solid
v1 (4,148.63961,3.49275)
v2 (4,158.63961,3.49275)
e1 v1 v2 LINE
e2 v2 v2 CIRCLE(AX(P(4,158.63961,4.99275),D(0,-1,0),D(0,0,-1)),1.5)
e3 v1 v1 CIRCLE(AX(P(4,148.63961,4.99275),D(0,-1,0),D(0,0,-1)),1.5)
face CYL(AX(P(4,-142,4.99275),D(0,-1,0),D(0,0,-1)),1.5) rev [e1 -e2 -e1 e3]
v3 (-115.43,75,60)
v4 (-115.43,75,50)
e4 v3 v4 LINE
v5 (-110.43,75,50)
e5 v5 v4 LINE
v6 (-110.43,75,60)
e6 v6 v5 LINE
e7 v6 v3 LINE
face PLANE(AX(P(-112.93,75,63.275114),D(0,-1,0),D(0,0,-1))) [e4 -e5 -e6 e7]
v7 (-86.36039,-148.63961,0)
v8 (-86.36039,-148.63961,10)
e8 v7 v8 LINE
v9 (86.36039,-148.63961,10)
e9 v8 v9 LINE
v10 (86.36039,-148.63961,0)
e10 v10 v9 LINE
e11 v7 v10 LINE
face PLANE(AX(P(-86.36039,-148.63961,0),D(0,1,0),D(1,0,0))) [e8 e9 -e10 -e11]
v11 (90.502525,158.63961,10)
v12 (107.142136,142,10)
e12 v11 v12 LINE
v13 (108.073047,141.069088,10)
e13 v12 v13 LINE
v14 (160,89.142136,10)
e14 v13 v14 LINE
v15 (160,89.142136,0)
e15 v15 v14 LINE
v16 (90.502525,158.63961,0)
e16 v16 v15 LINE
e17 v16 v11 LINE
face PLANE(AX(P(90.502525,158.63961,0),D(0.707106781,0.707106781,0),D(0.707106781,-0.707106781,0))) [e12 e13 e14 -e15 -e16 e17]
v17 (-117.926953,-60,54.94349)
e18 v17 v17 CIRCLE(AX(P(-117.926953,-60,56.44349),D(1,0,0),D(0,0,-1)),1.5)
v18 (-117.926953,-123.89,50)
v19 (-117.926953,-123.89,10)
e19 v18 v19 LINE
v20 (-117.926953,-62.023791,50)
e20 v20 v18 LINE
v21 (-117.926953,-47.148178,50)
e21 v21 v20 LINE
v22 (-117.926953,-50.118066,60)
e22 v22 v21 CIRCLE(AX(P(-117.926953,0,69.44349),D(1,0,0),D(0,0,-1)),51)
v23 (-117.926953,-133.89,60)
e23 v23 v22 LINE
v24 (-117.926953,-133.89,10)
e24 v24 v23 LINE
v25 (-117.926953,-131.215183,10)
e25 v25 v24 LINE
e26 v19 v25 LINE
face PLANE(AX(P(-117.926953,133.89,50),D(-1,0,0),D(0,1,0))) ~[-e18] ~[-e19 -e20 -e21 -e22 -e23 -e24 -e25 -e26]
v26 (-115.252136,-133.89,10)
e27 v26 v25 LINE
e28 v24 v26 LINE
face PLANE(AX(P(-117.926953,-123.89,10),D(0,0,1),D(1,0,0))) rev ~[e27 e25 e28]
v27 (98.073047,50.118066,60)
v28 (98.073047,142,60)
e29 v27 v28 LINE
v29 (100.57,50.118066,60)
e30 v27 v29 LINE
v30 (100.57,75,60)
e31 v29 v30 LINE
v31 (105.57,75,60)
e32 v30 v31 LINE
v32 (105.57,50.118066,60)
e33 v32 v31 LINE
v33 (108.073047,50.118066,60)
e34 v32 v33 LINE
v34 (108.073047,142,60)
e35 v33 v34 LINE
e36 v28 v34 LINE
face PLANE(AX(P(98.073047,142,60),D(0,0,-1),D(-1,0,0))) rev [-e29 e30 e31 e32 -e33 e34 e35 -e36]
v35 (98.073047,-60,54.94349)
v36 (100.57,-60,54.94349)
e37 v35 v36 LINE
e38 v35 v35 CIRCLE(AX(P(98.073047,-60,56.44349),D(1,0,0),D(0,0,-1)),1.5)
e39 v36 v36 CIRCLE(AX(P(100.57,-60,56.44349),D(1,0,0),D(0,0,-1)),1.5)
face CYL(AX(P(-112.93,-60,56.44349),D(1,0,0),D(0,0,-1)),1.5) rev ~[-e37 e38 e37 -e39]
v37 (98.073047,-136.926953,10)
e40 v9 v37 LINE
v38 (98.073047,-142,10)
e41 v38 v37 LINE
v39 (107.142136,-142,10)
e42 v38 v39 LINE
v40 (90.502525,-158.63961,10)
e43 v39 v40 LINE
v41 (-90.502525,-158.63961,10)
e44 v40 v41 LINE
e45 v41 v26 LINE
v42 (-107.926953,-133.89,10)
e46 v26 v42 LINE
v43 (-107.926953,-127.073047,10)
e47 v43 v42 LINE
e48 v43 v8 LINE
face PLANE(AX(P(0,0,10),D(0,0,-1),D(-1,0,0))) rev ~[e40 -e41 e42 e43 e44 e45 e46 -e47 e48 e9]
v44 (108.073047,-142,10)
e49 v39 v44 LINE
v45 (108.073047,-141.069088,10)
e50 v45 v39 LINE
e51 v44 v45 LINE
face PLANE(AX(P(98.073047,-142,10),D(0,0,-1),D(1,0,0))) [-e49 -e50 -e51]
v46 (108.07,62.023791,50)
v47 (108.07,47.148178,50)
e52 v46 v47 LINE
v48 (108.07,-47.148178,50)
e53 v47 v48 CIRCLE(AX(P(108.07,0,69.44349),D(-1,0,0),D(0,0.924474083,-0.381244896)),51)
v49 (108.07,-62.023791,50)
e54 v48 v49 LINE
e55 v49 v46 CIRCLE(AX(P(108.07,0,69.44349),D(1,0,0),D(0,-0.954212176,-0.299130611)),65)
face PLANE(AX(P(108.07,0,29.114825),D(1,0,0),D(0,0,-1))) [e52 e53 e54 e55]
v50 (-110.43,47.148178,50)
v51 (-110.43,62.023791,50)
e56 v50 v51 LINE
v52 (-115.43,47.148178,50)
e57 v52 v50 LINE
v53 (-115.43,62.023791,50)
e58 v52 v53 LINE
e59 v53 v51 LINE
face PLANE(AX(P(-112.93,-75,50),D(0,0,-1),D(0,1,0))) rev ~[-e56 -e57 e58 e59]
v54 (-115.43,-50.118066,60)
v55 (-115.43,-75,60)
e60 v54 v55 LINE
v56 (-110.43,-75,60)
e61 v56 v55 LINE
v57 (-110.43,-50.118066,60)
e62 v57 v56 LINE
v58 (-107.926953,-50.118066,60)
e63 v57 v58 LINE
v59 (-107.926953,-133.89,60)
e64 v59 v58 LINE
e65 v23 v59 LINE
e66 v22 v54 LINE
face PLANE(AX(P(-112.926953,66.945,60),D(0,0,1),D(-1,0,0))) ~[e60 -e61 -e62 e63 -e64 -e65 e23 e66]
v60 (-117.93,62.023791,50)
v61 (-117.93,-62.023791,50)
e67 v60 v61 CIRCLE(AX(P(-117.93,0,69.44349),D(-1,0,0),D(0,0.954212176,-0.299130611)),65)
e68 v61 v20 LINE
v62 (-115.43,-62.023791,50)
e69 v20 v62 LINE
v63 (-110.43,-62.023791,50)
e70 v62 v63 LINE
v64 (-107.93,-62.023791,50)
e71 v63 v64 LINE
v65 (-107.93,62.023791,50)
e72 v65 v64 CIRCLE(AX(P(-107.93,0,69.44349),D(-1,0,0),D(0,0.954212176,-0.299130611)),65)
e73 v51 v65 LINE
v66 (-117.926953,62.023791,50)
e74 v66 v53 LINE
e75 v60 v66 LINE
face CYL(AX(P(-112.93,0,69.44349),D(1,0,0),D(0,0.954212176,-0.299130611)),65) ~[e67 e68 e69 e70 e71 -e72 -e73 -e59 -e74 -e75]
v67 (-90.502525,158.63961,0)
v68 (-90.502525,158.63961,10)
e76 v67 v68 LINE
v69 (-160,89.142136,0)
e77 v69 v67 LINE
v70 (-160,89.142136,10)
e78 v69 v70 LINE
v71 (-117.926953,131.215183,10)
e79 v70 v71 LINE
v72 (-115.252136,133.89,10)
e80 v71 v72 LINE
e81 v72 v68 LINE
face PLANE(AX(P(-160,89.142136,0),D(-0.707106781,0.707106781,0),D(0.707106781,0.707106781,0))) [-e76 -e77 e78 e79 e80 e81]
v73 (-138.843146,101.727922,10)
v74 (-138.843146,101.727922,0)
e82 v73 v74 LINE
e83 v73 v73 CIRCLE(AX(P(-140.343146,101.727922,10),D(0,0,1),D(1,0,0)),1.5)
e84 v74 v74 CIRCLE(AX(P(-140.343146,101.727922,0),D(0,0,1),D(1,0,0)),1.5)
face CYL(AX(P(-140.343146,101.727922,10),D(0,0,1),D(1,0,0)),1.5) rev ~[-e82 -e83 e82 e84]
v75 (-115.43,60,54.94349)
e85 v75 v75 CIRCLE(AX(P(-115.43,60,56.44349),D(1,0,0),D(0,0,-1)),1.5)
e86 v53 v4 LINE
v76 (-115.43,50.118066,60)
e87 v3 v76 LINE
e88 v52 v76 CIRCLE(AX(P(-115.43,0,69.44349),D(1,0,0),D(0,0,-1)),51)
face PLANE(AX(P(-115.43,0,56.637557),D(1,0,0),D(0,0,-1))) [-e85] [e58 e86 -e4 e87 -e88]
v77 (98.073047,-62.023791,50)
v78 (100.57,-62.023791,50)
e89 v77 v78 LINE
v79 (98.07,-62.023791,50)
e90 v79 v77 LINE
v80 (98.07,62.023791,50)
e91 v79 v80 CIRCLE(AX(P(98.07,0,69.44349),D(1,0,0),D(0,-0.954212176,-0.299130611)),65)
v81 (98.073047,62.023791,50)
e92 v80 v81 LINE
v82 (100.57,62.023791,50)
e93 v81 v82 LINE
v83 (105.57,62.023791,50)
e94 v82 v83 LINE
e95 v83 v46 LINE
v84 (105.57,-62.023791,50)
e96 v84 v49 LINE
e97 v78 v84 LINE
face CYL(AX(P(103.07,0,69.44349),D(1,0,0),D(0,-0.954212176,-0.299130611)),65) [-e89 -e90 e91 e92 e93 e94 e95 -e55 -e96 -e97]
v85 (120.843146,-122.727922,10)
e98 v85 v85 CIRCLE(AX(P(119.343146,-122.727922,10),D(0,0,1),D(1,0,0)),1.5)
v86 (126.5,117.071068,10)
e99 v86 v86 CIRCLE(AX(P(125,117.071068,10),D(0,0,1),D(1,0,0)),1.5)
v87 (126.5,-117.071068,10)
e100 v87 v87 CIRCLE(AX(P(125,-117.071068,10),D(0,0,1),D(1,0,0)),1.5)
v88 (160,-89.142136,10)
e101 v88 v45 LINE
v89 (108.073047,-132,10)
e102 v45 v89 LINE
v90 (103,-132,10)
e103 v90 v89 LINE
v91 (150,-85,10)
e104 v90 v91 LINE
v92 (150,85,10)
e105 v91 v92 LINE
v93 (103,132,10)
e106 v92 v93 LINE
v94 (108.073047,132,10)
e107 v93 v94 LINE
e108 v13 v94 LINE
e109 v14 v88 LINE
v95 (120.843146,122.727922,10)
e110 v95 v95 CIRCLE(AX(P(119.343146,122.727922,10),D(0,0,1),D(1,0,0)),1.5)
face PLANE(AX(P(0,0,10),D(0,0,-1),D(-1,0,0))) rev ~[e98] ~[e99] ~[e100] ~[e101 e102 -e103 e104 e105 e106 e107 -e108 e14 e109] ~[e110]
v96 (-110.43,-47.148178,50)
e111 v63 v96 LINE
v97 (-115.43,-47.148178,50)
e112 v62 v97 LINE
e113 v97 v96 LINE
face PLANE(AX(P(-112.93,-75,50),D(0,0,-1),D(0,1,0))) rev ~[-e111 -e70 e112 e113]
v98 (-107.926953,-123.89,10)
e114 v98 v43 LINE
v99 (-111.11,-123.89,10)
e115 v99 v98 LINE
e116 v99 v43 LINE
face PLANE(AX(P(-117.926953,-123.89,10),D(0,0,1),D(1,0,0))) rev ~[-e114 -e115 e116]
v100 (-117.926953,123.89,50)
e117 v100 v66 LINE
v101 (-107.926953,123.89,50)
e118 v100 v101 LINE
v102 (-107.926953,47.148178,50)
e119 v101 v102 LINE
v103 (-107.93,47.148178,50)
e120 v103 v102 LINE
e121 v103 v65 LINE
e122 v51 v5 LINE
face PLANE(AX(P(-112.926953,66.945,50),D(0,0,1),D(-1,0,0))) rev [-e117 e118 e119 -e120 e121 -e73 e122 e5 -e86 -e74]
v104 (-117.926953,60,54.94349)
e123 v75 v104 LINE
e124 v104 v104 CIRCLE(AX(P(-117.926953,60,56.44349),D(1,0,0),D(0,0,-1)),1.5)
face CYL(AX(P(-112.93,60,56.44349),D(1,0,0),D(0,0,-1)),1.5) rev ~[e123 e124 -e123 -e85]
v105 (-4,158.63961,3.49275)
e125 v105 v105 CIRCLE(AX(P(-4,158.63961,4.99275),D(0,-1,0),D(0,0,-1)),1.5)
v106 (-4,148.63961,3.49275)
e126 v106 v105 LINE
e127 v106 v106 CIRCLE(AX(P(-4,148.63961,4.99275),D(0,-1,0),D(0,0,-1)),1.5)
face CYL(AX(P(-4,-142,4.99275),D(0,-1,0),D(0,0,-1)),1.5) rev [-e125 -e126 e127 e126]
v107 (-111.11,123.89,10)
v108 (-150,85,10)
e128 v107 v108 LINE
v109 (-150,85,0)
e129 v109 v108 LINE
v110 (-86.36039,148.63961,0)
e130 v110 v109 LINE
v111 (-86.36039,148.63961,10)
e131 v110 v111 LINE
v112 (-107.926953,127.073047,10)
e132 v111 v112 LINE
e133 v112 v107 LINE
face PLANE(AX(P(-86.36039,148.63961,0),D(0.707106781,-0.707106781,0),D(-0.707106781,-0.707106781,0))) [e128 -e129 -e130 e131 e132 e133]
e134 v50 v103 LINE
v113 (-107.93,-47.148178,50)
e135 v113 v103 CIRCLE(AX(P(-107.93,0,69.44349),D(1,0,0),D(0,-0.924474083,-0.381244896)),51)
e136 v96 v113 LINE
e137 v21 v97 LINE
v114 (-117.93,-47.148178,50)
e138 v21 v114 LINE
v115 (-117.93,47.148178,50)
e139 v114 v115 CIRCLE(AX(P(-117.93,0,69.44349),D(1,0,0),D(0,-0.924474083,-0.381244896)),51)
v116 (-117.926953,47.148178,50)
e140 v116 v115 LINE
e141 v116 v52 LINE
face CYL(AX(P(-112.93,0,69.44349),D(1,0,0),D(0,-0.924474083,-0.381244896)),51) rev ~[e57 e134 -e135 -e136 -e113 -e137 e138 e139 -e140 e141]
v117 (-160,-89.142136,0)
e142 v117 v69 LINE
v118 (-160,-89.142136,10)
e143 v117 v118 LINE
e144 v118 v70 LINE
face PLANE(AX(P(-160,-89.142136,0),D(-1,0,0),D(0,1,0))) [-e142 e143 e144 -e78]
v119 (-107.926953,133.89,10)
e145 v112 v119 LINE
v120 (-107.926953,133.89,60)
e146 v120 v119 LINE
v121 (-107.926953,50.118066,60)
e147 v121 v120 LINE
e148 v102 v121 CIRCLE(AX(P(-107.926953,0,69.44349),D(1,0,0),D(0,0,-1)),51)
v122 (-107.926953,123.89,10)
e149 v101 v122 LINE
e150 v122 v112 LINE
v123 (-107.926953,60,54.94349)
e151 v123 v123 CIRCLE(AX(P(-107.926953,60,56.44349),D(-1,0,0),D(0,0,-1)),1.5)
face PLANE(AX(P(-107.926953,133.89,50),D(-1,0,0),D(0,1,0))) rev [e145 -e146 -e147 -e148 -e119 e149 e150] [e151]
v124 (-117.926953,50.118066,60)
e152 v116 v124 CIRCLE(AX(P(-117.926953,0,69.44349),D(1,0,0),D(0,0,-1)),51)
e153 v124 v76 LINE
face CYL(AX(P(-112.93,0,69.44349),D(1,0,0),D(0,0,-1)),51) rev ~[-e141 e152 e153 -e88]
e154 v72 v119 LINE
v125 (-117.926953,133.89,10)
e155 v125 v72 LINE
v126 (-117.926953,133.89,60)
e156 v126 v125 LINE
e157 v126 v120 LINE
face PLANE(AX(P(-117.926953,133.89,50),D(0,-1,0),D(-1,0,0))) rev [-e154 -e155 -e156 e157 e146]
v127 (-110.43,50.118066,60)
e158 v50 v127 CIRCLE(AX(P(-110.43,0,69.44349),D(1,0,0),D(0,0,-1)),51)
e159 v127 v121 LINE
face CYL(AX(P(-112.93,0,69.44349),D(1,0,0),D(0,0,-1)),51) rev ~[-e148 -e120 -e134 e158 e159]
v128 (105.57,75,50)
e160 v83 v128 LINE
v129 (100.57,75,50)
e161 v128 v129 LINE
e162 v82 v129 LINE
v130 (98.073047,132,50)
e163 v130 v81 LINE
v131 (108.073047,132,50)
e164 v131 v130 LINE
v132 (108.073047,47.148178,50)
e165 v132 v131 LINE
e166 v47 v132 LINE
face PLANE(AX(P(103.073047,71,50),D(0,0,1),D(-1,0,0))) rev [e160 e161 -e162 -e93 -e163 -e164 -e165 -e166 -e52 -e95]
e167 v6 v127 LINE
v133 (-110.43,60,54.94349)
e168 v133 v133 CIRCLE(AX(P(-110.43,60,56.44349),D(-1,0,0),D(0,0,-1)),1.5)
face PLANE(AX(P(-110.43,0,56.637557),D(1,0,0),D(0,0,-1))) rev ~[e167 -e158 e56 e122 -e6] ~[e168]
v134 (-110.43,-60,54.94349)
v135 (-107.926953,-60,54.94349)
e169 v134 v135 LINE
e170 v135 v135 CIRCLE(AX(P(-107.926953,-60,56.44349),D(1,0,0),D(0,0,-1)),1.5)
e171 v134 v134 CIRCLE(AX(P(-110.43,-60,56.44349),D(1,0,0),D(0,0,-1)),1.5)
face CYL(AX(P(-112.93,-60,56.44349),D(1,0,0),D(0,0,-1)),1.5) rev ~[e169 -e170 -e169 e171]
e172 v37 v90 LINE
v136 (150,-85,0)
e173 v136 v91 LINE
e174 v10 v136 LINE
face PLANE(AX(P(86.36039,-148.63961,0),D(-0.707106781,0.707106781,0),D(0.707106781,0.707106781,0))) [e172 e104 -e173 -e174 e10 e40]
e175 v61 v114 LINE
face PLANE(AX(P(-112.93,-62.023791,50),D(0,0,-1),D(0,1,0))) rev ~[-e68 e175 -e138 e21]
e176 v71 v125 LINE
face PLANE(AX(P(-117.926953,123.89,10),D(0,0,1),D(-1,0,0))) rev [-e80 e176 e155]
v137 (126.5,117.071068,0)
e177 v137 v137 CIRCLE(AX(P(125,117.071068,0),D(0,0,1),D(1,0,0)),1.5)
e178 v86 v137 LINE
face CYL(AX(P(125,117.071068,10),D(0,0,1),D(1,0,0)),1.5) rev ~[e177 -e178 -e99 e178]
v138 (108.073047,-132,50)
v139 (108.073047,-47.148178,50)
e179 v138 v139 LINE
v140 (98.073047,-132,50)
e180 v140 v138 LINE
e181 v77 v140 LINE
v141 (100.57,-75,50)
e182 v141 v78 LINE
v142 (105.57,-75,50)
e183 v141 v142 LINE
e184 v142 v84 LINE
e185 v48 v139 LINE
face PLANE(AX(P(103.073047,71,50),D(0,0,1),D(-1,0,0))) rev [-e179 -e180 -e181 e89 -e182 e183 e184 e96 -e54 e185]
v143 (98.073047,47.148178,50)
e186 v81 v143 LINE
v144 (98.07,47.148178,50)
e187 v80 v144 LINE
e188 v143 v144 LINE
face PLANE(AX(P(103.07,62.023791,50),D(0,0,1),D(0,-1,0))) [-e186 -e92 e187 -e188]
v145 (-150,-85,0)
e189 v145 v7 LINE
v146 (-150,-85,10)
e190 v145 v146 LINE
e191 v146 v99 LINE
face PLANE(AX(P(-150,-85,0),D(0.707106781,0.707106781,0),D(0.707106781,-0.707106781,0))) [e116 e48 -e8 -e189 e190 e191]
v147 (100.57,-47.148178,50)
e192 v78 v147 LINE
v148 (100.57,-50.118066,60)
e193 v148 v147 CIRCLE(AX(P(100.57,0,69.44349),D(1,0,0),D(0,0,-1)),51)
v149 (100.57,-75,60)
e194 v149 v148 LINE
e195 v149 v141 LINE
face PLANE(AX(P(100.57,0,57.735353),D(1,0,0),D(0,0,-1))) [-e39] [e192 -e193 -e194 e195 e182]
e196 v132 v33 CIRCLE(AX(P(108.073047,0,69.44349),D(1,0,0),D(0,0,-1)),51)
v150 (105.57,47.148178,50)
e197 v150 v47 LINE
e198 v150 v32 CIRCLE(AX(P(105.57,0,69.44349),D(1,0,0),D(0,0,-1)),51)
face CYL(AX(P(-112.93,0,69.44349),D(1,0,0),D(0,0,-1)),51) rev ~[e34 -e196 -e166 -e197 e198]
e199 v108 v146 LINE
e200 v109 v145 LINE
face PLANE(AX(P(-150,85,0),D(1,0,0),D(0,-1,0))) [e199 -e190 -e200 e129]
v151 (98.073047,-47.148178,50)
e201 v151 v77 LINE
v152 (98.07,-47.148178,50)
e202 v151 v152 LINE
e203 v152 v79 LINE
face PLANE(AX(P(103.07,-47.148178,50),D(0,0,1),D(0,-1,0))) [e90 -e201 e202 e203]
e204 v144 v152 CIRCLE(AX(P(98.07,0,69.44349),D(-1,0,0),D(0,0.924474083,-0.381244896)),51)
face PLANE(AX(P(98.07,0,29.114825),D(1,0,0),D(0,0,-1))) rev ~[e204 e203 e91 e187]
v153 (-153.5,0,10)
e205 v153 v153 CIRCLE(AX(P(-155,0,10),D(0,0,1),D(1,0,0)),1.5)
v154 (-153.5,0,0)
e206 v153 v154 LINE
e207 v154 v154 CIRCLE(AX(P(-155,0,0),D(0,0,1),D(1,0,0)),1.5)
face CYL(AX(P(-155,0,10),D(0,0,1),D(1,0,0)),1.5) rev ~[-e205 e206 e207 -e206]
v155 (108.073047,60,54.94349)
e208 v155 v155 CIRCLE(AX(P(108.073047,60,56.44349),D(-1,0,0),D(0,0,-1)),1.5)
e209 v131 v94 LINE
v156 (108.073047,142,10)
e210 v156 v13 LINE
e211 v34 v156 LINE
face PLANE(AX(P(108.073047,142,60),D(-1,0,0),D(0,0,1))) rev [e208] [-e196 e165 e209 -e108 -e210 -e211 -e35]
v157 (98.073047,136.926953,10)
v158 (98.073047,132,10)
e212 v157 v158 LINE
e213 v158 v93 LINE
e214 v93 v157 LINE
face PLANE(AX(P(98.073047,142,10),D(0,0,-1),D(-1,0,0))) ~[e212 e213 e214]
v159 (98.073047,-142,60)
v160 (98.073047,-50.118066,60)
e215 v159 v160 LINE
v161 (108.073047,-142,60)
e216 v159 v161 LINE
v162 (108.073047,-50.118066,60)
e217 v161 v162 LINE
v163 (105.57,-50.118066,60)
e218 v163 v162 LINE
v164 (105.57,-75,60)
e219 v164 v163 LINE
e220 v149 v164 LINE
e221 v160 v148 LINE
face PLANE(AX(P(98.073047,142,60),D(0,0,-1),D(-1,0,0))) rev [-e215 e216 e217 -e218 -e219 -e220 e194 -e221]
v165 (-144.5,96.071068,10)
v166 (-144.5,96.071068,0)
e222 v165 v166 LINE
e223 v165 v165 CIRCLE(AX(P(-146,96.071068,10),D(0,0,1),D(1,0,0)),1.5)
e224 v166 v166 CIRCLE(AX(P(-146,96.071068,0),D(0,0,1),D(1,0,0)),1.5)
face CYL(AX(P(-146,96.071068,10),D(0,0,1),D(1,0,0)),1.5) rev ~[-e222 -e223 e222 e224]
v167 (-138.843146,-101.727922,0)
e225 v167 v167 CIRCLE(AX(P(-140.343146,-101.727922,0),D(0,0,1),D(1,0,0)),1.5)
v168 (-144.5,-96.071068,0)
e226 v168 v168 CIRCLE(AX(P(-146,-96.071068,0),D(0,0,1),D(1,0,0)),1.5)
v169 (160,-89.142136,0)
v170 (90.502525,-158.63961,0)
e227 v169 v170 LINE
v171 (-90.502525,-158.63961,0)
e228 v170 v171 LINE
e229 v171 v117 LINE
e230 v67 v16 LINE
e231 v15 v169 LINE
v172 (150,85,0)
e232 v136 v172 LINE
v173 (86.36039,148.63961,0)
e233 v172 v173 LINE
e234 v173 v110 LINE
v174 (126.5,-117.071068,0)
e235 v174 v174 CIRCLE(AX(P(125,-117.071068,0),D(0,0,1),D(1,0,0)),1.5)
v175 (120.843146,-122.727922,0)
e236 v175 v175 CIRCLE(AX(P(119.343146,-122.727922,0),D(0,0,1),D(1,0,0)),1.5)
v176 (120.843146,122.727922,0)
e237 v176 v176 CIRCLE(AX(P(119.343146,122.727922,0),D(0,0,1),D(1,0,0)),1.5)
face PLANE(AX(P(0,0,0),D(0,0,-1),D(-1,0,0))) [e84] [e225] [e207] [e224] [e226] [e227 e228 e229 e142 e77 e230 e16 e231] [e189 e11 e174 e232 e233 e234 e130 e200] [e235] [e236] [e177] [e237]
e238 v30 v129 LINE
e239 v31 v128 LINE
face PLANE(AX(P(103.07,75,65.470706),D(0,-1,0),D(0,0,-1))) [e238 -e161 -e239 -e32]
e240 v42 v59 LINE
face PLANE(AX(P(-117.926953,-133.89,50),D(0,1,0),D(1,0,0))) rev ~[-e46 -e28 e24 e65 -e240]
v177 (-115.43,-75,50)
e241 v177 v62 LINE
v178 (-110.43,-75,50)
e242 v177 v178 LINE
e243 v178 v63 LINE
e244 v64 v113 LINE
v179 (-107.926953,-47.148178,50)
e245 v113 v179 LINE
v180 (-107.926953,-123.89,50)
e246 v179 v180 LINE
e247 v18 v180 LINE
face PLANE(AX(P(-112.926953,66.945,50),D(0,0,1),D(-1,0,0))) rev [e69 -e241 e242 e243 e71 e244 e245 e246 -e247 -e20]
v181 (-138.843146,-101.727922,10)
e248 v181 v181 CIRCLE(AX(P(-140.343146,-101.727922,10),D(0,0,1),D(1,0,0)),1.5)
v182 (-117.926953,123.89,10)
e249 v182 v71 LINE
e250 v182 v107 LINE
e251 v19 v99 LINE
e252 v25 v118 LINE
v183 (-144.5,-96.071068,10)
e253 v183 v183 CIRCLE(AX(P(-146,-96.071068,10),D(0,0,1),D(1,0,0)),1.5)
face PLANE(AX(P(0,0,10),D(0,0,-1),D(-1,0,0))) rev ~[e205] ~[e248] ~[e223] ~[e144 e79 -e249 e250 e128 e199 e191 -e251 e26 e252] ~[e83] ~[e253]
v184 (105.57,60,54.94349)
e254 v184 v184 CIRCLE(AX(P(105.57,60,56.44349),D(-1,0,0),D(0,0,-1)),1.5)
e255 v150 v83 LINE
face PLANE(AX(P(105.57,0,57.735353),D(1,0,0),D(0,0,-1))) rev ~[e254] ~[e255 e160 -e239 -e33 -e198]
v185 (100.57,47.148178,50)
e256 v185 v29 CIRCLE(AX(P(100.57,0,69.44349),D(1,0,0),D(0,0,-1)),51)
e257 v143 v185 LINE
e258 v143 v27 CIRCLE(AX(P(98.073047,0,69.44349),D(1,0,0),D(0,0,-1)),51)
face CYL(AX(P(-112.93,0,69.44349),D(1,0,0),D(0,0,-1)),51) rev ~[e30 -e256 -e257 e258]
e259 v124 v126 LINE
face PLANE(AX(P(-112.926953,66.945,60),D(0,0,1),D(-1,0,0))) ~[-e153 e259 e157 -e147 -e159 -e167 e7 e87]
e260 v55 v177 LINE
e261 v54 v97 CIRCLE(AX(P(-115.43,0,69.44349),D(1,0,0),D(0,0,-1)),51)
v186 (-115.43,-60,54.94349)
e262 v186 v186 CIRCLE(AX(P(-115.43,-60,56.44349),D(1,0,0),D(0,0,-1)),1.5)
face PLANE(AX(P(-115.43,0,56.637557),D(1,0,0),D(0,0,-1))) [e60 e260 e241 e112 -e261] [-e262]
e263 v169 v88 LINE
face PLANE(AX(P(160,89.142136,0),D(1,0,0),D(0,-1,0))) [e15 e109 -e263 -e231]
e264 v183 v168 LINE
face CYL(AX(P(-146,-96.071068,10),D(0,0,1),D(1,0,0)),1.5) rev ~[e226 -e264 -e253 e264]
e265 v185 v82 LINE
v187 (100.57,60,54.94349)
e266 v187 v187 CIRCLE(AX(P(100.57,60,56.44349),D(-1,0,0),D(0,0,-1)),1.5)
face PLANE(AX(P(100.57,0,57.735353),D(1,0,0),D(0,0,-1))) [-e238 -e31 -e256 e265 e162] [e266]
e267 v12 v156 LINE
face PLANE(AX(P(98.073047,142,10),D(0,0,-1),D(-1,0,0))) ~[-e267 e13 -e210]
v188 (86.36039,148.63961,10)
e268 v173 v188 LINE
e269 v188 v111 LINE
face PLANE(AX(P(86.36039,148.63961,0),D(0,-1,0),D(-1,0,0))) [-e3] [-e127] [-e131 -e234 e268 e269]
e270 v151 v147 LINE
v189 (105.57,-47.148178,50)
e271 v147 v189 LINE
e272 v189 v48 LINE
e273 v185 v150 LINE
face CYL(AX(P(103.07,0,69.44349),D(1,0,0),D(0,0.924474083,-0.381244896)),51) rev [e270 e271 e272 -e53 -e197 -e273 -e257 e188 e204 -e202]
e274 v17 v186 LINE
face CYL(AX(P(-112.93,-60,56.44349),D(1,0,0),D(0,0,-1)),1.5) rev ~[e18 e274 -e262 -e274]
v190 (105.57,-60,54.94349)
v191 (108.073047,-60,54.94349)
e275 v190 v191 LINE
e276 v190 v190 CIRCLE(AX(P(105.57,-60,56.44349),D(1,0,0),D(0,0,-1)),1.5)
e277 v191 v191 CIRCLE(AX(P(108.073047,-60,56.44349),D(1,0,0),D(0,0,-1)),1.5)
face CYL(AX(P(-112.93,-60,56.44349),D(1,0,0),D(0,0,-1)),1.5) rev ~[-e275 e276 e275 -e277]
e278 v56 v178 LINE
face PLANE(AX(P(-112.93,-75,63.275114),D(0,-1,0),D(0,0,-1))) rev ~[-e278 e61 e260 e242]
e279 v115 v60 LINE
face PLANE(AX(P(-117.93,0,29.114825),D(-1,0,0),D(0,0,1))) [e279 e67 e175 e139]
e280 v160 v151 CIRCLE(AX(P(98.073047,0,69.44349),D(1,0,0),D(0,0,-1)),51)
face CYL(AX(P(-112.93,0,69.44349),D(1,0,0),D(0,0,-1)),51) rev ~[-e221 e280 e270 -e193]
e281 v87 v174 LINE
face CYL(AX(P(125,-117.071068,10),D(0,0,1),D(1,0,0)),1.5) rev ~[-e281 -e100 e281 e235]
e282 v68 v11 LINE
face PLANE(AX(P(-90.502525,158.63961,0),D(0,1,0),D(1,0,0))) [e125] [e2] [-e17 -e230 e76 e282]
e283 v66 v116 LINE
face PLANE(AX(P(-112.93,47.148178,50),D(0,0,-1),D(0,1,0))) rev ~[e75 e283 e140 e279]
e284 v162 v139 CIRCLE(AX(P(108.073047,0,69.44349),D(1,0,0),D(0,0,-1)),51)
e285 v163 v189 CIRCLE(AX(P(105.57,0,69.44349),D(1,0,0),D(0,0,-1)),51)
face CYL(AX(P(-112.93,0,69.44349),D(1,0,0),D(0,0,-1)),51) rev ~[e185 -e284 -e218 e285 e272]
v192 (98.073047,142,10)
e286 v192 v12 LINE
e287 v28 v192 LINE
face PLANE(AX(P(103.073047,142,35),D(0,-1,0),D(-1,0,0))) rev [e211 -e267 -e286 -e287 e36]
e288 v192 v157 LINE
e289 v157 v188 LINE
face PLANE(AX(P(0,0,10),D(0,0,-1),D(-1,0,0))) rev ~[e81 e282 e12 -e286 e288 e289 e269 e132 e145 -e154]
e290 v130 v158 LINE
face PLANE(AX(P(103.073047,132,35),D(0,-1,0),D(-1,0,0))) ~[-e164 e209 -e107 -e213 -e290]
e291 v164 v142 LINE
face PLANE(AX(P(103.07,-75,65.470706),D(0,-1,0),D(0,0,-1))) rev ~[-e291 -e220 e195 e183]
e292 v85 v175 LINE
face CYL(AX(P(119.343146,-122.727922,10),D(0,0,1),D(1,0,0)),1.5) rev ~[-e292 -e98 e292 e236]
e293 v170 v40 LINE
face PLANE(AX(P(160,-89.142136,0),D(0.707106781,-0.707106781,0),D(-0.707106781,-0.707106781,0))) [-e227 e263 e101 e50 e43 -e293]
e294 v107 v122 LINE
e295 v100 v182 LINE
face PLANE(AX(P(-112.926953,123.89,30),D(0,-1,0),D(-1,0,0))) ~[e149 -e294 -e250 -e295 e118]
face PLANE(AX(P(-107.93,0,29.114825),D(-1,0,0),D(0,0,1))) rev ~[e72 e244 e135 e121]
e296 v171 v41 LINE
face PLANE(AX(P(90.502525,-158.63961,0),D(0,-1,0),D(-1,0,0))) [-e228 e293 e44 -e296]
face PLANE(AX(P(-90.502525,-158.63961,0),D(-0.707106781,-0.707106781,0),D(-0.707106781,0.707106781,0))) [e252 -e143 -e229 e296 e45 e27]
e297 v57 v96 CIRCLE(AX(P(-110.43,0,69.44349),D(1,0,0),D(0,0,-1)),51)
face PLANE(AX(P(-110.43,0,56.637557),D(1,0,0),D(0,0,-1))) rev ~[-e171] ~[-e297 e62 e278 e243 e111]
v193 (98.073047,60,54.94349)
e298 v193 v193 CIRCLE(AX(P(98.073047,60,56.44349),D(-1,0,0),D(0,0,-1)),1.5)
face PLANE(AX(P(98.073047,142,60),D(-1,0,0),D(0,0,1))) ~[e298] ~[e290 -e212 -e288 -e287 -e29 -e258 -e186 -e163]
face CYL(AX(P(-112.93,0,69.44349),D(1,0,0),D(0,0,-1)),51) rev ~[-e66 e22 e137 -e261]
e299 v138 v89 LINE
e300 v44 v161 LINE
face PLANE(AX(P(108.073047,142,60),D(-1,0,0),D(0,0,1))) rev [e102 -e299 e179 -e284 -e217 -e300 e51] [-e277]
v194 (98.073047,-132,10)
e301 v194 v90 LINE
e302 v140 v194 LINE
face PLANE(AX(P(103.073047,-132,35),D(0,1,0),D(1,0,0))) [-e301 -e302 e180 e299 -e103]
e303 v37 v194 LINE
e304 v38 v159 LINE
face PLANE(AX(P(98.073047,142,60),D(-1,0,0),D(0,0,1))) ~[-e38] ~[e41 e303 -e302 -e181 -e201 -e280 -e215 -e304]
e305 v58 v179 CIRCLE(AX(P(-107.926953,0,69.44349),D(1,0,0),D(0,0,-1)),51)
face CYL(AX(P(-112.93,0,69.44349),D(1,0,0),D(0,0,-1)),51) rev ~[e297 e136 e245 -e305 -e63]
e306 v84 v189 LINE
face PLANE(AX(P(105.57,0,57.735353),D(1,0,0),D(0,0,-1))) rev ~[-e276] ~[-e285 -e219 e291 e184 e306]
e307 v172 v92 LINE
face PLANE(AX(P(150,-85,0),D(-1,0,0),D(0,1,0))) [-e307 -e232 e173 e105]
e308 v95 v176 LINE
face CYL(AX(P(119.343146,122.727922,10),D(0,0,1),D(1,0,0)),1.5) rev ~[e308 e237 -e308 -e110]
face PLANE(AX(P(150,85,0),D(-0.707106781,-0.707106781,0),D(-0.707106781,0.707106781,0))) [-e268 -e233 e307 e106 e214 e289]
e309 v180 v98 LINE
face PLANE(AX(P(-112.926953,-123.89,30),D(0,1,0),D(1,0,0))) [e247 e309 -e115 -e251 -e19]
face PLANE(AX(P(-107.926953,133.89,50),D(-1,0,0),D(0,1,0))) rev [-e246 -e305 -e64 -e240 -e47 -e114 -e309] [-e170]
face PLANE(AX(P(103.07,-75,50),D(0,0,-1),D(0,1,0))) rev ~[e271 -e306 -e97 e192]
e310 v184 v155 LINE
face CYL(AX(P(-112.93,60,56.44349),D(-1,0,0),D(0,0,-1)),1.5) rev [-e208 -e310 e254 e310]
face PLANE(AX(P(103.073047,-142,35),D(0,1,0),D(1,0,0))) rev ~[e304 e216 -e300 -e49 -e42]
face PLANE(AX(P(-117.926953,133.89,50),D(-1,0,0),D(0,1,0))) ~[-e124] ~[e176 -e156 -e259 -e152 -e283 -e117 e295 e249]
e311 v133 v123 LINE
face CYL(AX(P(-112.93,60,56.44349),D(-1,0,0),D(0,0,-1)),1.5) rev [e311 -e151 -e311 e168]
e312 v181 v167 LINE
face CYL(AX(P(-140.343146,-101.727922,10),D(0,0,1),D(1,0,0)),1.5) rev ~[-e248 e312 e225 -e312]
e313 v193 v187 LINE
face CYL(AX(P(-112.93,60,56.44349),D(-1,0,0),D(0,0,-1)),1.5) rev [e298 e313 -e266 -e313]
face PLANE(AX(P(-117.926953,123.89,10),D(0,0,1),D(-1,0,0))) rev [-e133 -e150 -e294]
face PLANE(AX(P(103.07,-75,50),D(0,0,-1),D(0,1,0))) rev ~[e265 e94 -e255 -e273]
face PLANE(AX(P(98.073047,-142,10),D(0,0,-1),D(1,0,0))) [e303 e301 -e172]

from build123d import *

# Parameters (mm, degrees)
Y_KSEKLIK_EKSTR_ZYON2_DEPTH = 10
IZIM3_W                     = 10
IZIM3_H                     = 40
Y_KSEKLIK_EKSTR_ZYON3_DEPTH = 10
IZIM4_W                     = 10
IZIM4_H                     = 133.89
Y_KSEKLIK_EKSTR_ZYON4_DEPTH = 10
IZIM6_W                     = 10
IZIM6_H                     = 50
Y_KSEKLIK_EKSTR_ZYON5_DEPTH = 10
IZIM7_W                     = 10
IZIM7_H                     = 142
Y_KSEKLIK_EKSTR_ZYON6_DEPTH = 10
IZIM8_R                     = 1.5
KES_EKSTR_ZYON1_DEPTH       = 35
IZIM9_R                     = 1.5
KES_EKSTR_ZYON2_DEPTH       = 374
IZIM12_R                    = 51
KES_EKSTR_ZYON4_DEPTH       = 338
Y_KSEKLIK_EKSTR_ZYON7_DEPTH = 5
Y_KSEKLIK_EKSTR_ZYON8_DEPTH = 5
IZIM21_W                    = 13.275114184
IZIM21_H                    = 150
KES_EKSTR_ZYON5_DEPTH       = 2.5
IZIM22_W                    = 15.470706389
IZIM22_H                    = 150
KES_EKSTR_ZYON6_DEPTH       = 2.5
IZIM23_R                    = 1.5
KES_EKSTR_ZYON7_DEPTH       = 242


with BuildPart() as part:
    # Çizim1 → Yükseklik-Ekstrüzyon2 (new body)
    with BuildSketch(Plane.XY):
        Polygon((-160, 89.142135624), (-90.502525317, 158.639610307), (90.502525317, 158.639610307), (160, 89.142135624), (160, -89.142135624), (90.502525317, -158.639610307), (-90.502525317, -158.639610307), (-160, -89.142135624), align=None)
        Polygon((-150, 85), (-150, -85), (-86.360389693, -148.639610307), (86.360389693, -148.639610307), (150, -85), (150, 85), (86.360389693, 148.639610307), (-86.360389693, 148.639610307), align=None, mode=Mode.SUBTRACT)
    extrude(amount=Y_KSEKLIK_EKSTR_ZYON2_DEPTH)

    # Çizim3 → Yükseklik-Ekstrüzyon3 (add)
    with BuildSketch(Plane(origin=(0, -123.89, 0), x_dir=(1, 0, 0), z_dir=(0, 1, 0))):
        with Locations((-112.926952731, -30)):
            Rectangle(IZIM3_W, IZIM3_H)
    y_kseklik_ekstr_zyon3 = extrude(amount=-Y_KSEKLIK_EKSTR_ZYON3_DEPTH)

    # Çizim4 → Yükseklik-Ekstrüzyon4 (add)
    with BuildSketch(Plane.XY.offset(50)):
        with Locations((-112.926952731, -66.945)):
            Rectangle(IZIM4_W, IZIM4_H)
    y_kseklik_ekstr_zyon4 = extrude(amount=Y_KSEKLIK_EKSTR_ZYON4_DEPTH)

    # Çizim6 → Yükseklik-Ekstrüzyon5 (add)
    with BuildSketch(Plane(origin=(0, -142, 0), x_dir=(1, 0, 0), z_dir=(0, 1, 0))):
        with Locations((103.073047269, -35)):
            Rectangle(IZIM6_W, IZIM6_H)
    y_kseklik_ekstr_zyon5 = extrude(amount=Y_KSEKLIK_EKSTR_ZYON5_DEPTH)

    # Çizim7 → Yükseklik-Ekstrüzyon6 (add)
    with BuildSketch(Plane.XY.offset(50)):
        with Locations((103.073047269, -71)):
            Rectangle(IZIM7_W, IZIM7_H)
    y_kseklik_ekstr_zyon6 = extrude(amount=Y_KSEKLIK_EKSTR_ZYON6_DEPTH)

    # Aynalama1: Yükseklik-Ekstrüzyon3, Yükseklik-Ekstrüzyon4, Yükseklik-Ekstrüzyon5, Yükseklik-Ekstrüzyon6 across plane
    add(y_kseklik_ekstr_zyon3.mirror(Plane.ZX))
    add(y_kseklik_ekstr_zyon4.mirror(Plane.ZX))
    add(y_kseklik_ekstr_zyon5.mirror(Plane.ZX))
    add(y_kseklik_ekstr_zyon6.mirror(Plane.ZX))

    # Çizim8 → Kes-Ekstrüzyon1 (cut)
    with BuildSketch(Plane.XY.offset(10)):
        with Locations((125, 117.071067812)):
            Circle(IZIM8_R)
        with Locations((119.343145751, 122.727922061)):
            Circle(IZIM8_R)
        with Locations((119.343145751, -122.727922061)):
            Circle(IZIM8_R)
        with Locations((125, -117.071067812)):
            Circle(IZIM8_R)
        with Locations((-140.343145751, 101.727922061)):
            Circle(IZIM8_R)
        with Locations((-146, 96.071067812)):
            Circle(IZIM8_R)
        with Locations((-140.343145751, -101.727922061)):
            Circle(IZIM8_R)
        with Locations((-146, -96.071067812)):
            Circle(IZIM8_R)
        with Locations((-155, 0)):
            Circle(IZIM8_R)
    extrude(amount=-KES_EKSTR_ZYON1_DEPTH, mode=Mode.SUBTRACT)

    # Çizim9 → Kes-Ekstrüzyon2 (cut)
    with BuildSketch(Plane(origin=(0, -142, 0), x_dir=(1, 0, 0), z_dir=(0, 1, 0))):
        with Locations(Location((-4, -4.992750184, 0), (0, 0, 90))):
            Circle(IZIM9_R)
        with Locations(Location((4, -4.992750184, 0), (0, 0, 90))):
            Circle(IZIM9_R)
    extrude(amount=KES_EKSTR_ZYON2_DEPTH, mode=Mode.SUBTRACT)

    # Çizim12 → Kes-Ekstrüzyon4 (cut, symmetric)
    with BuildSketch(Plane(origin=(-112.93, 0, 0), x_dir=(0, 0, -1), z_dir=(1, 0, 0))):
        with Locations((-69.443489697, 0)):
            Circle(IZIM12_R)
    extrude(amount=KES_EKSTR_ZYON4_DEPTH, both=True, mode=Mode.SUBTRACT)

    # Çizim19 → Yükseklik-Ekstrüzyon7 (add, symmetric)
    with BuildSketch(Plane(origin=(-112.93, 0, 0), x_dir=(0, 0, -1), z_dir=(1, 0, 0))):
        with BuildLine():
            Line((-50, -62.023791471), (-50, -47.148178209))
            ThreePointArc((-50, -47.148178209), (-18.443489697, 0), (-50, 47.148178209))
            Line((-50, 47.148178209), (-50, 62.023791471))
            ThreePointArc((-50, 62.023791471), (-4.443489697, 0), (-50, -62.023791471))
        make_face()
    extrude(amount=Y_KSEKLIK_EKSTR_ZYON7_DEPTH, both=True)

    # Çizim20 → Yükseklik-Ekstrüzyon8 (add, symmetric)
    with BuildSketch(Plane(origin=(103.07, 0, 0), x_dir=(0, 0, -1), z_dir=(1, 0, 0))):
        with BuildLine():
            Line((-50, -47.148178209), (-50, -62.023791471))
            ThreePointArc((-50, -62.023791471), (-4.443489697, 0), (-50, 62.023791471))
            Line((-50, 62.023791471), (-50, 47.148178209))
            ThreePointArc((-50, 47.148178209), (-18.443489697, 0), (-50, -47.148178209))
        make_face()
    extrude(amount=Y_KSEKLIK_EKSTR_ZYON8_DEPTH, both=True)

    # Çizim21 → Kes-Ekstrüzyon5 (cut, symmetric)
    with BuildSketch(Plane(origin=(-112.93, 0, 0), x_dir=(0, 0, -1), z_dir=(1, 0, 0))):
        with Locations((-56.637557092, 0)):
            Rectangle(IZIM21_W, IZIM21_H)
    extrude(amount=KES_EKSTR_ZYON5_DEPTH, both=True, mode=Mode.SUBTRACT)

    # Çizim22 → Kes-Ekstrüzyon6 (cut, symmetric)
    with BuildSketch(Plane(origin=(103.07, 0, 0), x_dir=(0, 0, -1), z_dir=(1, 0, 0))):
        with Locations((-57.735353195, 0)):
            Rectangle(IZIM22_W, IZIM22_H)
    extrude(amount=KES_EKSTR_ZYON6_DEPTH, both=True, mode=Mode.SUBTRACT)

    # Çizim23 → Kes-Ekstrüzyon7 (cut, symmetric)
    with BuildSketch(Plane(origin=(-112.93, 0, 0), x_dir=(0, 0, -1), z_dir=(1, 0, 0))):
        with Locations((-56.443489697, 60)):
            Circle(IZIM23_R)
        with Locations((-56.443489697, -60)):
            Circle(IZIM23_R)
    extrude(amount=KES_EKSTR_ZYON7_DEPTH, both=True, mode=Mode.SUBTRACT)


solid = part.part
